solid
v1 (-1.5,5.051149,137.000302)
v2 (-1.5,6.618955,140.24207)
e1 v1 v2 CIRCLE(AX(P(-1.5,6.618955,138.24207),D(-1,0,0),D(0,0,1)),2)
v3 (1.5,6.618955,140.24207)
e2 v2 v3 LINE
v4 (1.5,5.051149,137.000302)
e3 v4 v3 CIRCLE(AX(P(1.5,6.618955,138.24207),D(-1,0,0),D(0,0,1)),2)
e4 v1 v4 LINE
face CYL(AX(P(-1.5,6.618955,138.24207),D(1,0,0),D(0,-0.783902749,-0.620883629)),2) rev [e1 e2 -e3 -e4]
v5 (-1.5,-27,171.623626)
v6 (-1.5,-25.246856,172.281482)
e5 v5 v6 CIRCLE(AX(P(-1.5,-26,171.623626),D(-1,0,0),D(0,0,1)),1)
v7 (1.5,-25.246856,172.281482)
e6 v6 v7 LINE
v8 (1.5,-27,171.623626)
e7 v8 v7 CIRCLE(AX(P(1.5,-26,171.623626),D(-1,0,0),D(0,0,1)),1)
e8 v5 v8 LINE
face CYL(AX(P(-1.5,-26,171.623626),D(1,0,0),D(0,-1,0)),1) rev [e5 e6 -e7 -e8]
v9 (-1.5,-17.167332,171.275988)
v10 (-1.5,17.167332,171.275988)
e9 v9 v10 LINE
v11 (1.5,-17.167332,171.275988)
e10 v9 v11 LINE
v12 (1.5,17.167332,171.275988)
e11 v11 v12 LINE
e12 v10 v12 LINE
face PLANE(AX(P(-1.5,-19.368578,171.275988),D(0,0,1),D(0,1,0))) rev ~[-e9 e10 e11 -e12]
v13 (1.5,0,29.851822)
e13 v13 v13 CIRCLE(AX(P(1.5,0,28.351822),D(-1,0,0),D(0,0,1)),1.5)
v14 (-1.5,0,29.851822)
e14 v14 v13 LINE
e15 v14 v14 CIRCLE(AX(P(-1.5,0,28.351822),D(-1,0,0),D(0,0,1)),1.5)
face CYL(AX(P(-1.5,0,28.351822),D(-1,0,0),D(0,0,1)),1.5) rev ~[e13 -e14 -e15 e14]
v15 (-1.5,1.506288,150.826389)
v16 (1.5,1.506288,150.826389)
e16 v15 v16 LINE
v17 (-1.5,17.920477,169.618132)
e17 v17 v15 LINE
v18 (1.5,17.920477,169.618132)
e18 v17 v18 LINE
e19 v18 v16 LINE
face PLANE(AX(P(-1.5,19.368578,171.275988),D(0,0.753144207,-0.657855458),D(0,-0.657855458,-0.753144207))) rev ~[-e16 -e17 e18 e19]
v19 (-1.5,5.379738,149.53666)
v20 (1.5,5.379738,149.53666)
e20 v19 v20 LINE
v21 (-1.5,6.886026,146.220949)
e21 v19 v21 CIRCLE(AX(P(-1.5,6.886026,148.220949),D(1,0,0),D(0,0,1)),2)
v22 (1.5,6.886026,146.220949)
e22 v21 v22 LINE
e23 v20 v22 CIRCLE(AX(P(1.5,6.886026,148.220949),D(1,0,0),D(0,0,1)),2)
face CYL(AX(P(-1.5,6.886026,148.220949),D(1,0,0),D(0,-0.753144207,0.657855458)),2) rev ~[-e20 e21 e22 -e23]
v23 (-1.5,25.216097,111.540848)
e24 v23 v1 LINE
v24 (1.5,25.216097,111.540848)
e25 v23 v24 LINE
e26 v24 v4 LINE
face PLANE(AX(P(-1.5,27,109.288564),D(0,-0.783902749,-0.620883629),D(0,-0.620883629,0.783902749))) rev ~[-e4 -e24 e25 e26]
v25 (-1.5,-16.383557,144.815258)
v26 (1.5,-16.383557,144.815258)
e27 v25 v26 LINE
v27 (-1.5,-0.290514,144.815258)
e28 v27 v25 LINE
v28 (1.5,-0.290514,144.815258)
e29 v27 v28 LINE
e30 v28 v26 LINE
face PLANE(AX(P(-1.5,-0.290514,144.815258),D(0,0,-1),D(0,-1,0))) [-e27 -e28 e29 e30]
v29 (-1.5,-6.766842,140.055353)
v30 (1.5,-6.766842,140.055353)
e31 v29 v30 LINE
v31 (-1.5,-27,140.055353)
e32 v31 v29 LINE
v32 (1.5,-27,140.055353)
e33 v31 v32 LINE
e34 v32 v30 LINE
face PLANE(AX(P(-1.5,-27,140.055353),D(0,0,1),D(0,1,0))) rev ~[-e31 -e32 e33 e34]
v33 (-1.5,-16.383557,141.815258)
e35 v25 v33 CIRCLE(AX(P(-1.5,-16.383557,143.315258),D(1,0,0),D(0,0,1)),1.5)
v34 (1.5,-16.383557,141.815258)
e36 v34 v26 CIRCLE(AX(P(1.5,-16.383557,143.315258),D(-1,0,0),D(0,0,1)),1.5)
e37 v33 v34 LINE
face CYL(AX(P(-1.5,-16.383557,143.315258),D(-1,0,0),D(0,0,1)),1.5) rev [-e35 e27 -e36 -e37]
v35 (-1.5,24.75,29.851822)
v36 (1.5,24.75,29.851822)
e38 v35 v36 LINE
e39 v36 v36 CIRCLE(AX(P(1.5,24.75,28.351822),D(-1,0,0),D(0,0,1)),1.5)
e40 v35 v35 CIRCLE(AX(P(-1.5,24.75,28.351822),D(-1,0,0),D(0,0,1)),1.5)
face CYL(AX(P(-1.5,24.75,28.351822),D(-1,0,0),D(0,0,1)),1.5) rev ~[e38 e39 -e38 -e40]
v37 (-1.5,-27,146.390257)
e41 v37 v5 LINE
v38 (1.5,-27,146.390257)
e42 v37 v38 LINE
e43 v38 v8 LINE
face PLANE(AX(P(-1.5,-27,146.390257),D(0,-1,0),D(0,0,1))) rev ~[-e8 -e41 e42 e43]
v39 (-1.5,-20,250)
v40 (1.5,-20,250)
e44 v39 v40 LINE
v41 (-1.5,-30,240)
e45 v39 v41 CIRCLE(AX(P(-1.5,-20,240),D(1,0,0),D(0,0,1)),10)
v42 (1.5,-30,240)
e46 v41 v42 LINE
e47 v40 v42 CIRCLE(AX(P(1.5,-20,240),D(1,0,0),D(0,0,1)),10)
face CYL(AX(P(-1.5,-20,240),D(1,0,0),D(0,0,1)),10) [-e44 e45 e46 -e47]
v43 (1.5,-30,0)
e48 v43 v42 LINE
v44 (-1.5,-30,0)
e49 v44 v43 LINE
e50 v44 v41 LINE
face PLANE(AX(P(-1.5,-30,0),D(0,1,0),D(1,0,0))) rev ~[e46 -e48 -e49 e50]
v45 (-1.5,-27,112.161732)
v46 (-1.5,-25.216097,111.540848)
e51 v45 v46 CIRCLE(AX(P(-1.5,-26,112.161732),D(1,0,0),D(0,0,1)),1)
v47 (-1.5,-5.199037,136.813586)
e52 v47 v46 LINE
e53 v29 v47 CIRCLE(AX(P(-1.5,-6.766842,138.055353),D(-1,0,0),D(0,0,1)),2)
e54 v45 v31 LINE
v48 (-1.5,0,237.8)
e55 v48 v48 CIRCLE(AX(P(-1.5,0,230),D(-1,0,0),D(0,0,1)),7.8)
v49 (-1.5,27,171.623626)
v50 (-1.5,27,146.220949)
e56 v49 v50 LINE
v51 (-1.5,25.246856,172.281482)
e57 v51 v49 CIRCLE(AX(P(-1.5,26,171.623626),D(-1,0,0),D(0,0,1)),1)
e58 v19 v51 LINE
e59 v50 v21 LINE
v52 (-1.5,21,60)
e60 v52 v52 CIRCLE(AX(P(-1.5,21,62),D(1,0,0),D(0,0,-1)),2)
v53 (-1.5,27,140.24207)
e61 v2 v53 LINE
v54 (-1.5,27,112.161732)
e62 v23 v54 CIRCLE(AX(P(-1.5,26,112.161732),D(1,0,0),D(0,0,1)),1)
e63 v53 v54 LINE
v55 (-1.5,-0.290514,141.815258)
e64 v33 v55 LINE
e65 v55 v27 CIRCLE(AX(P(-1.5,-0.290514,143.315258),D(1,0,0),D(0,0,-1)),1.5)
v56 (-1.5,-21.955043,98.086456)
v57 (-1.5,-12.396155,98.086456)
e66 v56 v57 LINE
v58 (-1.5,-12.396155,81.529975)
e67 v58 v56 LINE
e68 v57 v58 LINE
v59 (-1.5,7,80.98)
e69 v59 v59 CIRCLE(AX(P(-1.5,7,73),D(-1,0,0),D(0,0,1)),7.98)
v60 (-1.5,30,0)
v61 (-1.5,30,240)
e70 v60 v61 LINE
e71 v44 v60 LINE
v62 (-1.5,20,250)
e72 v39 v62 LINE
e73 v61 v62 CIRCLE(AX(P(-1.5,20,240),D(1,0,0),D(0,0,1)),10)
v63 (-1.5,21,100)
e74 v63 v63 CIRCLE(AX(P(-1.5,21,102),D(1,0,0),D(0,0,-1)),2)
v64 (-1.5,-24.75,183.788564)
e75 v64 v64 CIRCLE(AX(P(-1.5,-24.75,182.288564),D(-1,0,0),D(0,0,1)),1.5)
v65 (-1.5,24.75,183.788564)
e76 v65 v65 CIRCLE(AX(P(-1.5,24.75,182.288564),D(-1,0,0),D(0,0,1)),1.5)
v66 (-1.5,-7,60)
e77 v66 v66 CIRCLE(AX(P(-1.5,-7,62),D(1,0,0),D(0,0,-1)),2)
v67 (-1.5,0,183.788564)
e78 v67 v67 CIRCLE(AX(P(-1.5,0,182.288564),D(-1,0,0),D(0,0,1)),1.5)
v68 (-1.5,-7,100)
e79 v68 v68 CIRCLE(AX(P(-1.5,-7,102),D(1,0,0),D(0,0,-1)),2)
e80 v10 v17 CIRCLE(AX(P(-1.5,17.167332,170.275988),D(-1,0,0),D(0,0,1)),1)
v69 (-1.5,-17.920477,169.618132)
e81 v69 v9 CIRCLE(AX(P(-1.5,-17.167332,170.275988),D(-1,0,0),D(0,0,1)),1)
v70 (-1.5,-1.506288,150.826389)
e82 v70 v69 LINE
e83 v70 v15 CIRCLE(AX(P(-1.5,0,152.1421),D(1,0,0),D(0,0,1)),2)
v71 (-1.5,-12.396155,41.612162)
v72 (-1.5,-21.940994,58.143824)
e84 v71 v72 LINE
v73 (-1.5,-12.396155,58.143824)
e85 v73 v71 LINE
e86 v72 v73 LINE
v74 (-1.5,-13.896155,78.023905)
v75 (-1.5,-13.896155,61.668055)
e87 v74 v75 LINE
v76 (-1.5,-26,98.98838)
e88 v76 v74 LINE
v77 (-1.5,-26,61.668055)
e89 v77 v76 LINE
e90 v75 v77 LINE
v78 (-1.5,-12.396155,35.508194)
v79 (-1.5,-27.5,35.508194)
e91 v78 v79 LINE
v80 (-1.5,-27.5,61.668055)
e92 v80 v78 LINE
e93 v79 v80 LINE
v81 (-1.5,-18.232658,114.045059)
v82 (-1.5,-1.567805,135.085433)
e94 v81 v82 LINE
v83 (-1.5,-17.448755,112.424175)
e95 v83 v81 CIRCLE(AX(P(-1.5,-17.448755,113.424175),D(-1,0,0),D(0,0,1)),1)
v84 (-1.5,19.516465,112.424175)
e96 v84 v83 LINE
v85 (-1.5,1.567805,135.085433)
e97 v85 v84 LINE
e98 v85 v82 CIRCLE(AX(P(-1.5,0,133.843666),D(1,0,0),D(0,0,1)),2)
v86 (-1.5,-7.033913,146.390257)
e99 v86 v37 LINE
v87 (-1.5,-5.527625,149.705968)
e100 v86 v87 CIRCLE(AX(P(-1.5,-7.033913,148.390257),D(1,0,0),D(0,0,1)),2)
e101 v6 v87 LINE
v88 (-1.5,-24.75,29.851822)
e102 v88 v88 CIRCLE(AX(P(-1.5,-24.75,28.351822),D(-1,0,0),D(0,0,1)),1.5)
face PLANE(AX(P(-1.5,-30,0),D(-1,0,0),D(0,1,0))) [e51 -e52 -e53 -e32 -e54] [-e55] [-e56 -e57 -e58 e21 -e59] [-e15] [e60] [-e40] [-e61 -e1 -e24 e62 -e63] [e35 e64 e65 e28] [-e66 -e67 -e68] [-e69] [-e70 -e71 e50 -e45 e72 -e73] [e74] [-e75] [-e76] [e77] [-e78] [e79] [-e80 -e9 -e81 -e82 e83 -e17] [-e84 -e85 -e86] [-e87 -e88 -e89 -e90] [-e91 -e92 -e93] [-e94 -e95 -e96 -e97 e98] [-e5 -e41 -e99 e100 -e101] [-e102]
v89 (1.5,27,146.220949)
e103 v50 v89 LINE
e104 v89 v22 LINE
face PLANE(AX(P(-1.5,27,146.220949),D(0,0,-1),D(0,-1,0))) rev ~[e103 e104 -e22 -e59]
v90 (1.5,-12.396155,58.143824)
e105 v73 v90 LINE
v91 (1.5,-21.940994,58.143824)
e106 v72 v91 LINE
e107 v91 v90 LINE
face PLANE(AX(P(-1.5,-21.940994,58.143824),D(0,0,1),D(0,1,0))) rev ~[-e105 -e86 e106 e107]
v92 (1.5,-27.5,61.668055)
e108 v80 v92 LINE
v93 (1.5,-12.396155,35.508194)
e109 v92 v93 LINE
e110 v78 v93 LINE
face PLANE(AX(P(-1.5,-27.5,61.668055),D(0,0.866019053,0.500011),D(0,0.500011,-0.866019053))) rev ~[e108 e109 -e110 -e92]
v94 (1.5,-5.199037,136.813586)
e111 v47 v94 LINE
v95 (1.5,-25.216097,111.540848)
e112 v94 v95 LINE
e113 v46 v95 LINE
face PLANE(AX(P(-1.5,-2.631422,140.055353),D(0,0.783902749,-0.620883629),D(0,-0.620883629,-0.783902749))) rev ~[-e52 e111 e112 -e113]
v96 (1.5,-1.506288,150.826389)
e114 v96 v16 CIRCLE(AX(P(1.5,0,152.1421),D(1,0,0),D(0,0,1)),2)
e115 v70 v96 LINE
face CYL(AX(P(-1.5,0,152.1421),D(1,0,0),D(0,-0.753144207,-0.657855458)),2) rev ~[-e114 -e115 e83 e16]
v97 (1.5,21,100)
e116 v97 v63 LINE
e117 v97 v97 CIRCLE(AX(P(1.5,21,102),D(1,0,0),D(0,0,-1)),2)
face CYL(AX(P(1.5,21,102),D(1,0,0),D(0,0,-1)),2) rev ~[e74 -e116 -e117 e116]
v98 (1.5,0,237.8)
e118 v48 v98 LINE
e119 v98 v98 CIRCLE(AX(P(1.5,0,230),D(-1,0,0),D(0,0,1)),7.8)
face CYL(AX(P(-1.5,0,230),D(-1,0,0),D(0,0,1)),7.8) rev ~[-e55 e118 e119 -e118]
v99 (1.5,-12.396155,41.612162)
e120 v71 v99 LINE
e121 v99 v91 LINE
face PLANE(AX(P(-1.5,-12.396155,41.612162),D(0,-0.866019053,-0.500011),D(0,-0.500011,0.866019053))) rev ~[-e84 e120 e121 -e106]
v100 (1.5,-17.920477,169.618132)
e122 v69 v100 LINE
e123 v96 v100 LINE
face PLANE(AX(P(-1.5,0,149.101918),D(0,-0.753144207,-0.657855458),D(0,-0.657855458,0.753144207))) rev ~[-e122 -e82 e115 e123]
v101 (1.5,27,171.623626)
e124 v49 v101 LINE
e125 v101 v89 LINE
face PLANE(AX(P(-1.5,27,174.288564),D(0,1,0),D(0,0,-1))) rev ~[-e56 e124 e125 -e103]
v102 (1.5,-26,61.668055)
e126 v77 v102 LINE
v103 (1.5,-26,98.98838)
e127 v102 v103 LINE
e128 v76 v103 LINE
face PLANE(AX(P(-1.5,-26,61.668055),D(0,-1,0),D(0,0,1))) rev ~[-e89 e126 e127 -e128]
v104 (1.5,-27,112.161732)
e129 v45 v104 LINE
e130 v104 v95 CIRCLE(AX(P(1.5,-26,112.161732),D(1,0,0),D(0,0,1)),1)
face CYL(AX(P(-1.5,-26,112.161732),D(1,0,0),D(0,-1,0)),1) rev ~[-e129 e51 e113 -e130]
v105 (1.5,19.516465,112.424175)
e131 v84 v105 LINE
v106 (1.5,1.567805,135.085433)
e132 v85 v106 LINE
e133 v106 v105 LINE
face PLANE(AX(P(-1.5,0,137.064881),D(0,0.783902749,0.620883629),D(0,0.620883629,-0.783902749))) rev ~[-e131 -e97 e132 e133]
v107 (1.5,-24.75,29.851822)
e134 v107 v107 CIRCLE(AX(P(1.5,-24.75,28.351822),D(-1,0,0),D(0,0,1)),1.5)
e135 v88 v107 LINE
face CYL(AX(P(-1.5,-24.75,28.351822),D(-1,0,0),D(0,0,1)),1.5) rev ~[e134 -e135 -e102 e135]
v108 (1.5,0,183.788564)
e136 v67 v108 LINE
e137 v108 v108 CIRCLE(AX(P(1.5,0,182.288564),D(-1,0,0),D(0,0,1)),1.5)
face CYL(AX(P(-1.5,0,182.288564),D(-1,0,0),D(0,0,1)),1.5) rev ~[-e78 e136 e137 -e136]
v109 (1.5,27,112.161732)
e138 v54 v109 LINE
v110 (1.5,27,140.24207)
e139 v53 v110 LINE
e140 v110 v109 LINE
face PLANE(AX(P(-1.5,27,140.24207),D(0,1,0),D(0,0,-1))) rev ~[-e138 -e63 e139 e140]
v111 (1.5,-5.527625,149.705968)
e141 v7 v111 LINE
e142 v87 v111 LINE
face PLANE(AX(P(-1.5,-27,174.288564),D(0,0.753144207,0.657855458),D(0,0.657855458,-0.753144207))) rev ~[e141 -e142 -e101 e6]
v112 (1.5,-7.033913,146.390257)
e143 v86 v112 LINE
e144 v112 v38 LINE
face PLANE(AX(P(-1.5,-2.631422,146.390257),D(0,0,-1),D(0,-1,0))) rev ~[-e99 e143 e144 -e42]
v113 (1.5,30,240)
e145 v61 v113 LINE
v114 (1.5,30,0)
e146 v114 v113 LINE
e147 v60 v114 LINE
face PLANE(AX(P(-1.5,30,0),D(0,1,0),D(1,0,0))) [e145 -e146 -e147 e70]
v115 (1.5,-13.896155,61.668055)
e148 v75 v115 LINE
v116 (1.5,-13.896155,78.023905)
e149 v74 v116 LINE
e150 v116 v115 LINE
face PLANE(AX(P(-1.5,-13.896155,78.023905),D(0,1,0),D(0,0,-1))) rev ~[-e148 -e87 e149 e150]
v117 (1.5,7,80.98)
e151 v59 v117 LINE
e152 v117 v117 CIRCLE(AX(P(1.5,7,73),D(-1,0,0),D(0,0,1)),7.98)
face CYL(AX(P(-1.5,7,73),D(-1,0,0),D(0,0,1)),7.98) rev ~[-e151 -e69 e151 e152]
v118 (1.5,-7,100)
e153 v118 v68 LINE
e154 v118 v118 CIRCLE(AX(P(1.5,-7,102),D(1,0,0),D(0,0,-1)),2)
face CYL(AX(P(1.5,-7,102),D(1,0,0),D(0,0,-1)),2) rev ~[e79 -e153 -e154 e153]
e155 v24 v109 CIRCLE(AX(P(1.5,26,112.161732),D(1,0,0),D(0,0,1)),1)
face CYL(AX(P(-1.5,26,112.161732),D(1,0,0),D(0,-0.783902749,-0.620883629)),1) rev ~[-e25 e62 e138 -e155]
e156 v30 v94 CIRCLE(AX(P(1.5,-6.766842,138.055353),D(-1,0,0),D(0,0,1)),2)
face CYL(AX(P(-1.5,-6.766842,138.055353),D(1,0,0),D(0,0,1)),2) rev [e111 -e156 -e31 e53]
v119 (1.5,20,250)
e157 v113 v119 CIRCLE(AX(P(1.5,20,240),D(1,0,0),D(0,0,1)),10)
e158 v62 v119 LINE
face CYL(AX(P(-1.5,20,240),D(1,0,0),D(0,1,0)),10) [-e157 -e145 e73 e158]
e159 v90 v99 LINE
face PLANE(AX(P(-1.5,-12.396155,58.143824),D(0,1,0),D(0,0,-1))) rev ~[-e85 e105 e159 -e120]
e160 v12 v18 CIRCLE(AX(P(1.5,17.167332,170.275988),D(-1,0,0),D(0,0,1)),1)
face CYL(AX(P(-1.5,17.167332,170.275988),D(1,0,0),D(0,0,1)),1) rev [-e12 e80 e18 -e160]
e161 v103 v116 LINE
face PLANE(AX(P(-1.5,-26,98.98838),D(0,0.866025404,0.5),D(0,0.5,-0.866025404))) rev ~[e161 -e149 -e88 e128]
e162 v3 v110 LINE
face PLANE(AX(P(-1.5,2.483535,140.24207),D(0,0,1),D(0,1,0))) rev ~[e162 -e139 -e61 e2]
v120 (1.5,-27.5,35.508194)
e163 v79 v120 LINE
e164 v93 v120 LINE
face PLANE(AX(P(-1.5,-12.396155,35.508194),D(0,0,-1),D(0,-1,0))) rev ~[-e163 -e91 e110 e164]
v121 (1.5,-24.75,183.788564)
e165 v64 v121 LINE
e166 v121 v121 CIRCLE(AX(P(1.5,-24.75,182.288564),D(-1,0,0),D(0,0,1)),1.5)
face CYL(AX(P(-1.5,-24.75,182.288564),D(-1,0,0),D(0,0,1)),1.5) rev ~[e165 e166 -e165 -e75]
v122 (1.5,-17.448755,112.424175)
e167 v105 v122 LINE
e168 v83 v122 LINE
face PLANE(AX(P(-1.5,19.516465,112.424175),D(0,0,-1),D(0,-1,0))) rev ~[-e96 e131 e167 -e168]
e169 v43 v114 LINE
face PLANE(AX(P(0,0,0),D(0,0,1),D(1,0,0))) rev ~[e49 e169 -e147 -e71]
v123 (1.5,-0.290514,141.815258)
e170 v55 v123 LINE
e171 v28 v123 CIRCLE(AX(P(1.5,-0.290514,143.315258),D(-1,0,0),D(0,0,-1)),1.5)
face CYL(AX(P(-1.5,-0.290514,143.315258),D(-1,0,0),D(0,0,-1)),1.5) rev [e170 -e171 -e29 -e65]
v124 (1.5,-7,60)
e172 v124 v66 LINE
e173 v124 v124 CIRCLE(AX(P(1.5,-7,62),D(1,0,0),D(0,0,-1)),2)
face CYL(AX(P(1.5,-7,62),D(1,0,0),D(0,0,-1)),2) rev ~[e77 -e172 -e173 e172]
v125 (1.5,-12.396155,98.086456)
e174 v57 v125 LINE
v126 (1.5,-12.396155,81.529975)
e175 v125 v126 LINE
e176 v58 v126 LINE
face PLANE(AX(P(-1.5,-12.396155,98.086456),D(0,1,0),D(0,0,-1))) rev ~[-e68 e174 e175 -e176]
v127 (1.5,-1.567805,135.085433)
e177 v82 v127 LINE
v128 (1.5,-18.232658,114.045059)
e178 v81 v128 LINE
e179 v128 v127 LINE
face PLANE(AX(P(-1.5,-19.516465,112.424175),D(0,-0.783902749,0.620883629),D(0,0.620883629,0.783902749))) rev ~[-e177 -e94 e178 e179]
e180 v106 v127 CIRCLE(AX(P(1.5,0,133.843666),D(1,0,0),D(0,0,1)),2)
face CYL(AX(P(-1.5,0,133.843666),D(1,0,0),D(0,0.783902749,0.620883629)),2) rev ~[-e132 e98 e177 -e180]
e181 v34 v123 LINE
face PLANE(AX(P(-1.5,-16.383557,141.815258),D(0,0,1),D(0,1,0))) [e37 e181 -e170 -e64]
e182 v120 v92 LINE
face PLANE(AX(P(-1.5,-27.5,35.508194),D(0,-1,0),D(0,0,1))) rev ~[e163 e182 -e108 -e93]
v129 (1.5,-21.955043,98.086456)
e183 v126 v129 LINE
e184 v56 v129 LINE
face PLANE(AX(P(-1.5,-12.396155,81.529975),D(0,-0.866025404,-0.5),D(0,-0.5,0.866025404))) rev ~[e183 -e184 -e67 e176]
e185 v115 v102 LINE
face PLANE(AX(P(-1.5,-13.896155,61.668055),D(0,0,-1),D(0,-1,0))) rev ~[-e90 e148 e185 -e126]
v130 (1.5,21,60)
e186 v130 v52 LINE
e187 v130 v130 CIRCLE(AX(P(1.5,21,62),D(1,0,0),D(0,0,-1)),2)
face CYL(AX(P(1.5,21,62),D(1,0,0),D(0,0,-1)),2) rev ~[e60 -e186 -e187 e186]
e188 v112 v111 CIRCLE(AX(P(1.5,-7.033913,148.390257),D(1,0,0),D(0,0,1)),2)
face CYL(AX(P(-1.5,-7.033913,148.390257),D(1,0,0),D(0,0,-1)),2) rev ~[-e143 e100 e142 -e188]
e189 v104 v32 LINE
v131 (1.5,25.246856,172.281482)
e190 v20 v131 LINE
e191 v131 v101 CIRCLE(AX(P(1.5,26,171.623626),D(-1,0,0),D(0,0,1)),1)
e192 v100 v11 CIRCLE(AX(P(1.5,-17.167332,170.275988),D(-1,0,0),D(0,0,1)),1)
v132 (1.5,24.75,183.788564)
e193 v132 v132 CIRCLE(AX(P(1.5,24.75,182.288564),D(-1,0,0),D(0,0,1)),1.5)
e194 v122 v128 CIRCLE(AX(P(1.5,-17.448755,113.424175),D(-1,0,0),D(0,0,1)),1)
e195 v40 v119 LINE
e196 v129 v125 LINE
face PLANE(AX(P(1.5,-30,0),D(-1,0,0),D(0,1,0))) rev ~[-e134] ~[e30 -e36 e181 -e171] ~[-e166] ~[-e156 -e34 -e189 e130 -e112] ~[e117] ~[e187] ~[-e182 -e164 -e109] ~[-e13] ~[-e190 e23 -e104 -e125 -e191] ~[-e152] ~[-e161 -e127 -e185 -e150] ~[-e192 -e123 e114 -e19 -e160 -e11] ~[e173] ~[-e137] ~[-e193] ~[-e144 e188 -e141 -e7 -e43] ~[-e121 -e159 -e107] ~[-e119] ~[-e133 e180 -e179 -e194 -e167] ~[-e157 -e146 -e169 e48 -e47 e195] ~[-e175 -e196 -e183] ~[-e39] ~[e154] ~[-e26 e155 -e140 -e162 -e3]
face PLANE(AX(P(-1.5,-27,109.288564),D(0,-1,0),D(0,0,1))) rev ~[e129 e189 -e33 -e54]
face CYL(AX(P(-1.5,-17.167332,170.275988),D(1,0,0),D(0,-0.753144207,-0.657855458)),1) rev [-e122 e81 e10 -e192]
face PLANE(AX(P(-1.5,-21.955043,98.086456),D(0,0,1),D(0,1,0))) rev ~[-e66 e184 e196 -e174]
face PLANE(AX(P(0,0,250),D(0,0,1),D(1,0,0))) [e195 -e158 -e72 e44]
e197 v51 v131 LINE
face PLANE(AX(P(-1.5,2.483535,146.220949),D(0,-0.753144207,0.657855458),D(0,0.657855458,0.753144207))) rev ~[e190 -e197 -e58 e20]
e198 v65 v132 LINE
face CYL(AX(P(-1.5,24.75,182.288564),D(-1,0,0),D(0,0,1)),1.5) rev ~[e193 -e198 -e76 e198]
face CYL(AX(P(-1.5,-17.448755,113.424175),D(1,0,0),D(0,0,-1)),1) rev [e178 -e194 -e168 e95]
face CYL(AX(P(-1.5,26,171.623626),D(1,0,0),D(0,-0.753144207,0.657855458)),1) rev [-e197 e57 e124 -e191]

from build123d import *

# Parameters (mm, degrees)
SKETCH1_W           = 3
SKETCH1_H           = 60
BOSS_EXTRUDE1_DEPTH = 250
FILLET1_R           = 10
FILLET2_R           = 10
SKETCH2_R           = 4.25
CUT_EXTRUDE1_DEPTH  = 4
SKETCH5_R           = 7.8
CUT_EXTRUDE4_DEPTH  = 4
SKETCH13_R          = 7.98
CUT_EXTRUDE10_DEPTH = 4
SKETCH14_R          = 2
CUT_EXTRUDE11_DEPTH = 4
CUT_EXTRUDE14_DEPTH = 10
FILLET3_R           = 1
FILLET4_R           = 2
CUT_EXTRUDE18_DEPTH = 10
CUT_EXTRUDE19_DEPTH = 4
SKETCH20_R          = 1.499999993
SKETCH20_R_2        = 1.5
CUT_EXTRUDE20_DEPTH = 4


with BuildPart() as part:
    # Sketch1 → Boss-Extrude1 (new body)
    with BuildSketch(Plane.XY):
        Rectangle(SKETCH1_W, SKETCH1_H)
    extrude(amount=BOSS_EXTRUDE1_DEPTH)

    # Fillet1
    fillet1_edges = [part.edges().sort_by_distance(p)[0] for p in [
        (0, 30, 250),
    ]]
    fillet(fillet1_edges, radius=FILLET1_R)

    # Fillet2
    fillet2_edges = [part.edges().sort_by_distance(p)[0] for p in [
        (0, -30, 250),
    ]]
    fillet(fillet2_edges, radius=FILLET2_R)

    # Sketch2 → Cut-Extrude1 (cut, through all)
    with BuildSketch(Plane.ZY.offset(1.5)):
        with Locations((230, 0)):
            Circle(SKETCH2_R)
    extrude(amount=-CUT_EXTRUDE1_DEPTH, mode=Mode.SUBTRACT)

    # Sketch5 → Cut-Extrude4 (cut, through all)
    with BuildSketch(Plane.ZY.offset(1.5)):
        with Locations((230, 0)):
            Circle(SKETCH5_R)
    extrude(amount=-CUT_EXTRUDE4_DEPTH, mode=Mode.SUBTRACT)

    # Sketch13 → Cut-Extrude10 (cut, through all)
    with BuildSketch(Plane.ZY.offset(1.5)):
        with Locations((73, 7)):
            Circle(SKETCH13_R)
    extrude(amount=-CUT_EXTRUDE10_DEPTH, mode=Mode.SUBTRACT)

    # Sketch14 → Cut-Extrude11 (cut, through all)
    with BuildSketch(Plane(origin=(1.5, 0, 0), x_dir=(0, 0, -1), z_dir=(1, 0, 0))):
        with Locations((-102, -7)):
            Circle(SKETCH14_R)
        with Locations((-102, 21)):
            Circle(SKETCH14_R)
        with Locations((-62, 21)):
            Circle(SKETCH14_R)
        with Locations((-62, -7)):
            Circle(SKETCH14_R)
    extrude(amount=-CUT_EXTRUDE11_DEPTH, mode=Mode.SUBTRACT)

    # Sketch17 → Cut-Extrude14 (cut)
    with BuildSketch(Plane.ZY.offset(1.5)):
        Polygon((149.1019184, 0), (171.275987572, -19.368578167), (171.275987572, 19.368578167), align=None)
        Polygon((146.3902575, -27), (174.288564399, -27), (146.3902575, -2.631421833), align=None)
        Polygon((109.288564399, -27), (140.055353087, -27), (140.055353087, -2.631421833), align=None)
        Polygon((112.424175394, 19.516465485), (112.424175394, -19.516465485), (137.064881363, 0), align=None)
        Polygon((109.288564399, 27), (140.242069678, 2.483534515), (140.242069678, 27), align=None)
        Polygon((146.220949067, 2.483534515), (174.288564399, 27), (146.220949067, 27), align=None)
    extrude(amount=-CUT_EXTRUDE14_DEPTH, mode=Mode.SUBTRACT)

    # Fillet3
    fillet3_edges = [part.edges().sort_by_distance(p)[0] for p in [
        (0, -27, 174.288564399),
        (0, 27, 174.288564399),
        (0, -19.368578167, 171.275987572),
        (0, 19.368578167, 171.275987572),
        (0, -19.516465485, 112.424175394),
        (0, 27, 109.288564399),
        (0, -27, 109.288564399),
    ]]
    fillet(fillet3_edges, radius=FILLET3_R)

    # Fillet4
    fillet4_edges = [part.edges().sort_by_distance(p)[0] for p in [
        (0, -2.631421833, 146.3902575),
        (0, 2.483534515, 146.220949067),
        (0, 0, 149.1019184),
        (0, 0, 137.064881363),
        (0, 2.483534515, 140.242069678),
        (0, -2.631421833, 140.055353087),
    ]]
    fillet(fillet4_edges, radius=FILLET4_R)

    # Sketch18 → Cut-Extrude18 (cut)
    with BuildSketch(Plane.ZY.offset(1.5)):
        Polygon((61.668054604, -26), (98.988380185, -26), (78.023904982, -13.896154598), (61.668054604, -13.896154598), align=None)
        Polygon((98.086456396, -21.955043464), (98.086456396, -12.396154598), (81.529975217, -12.396154598), align=None)
        Polygon((58.14382401, -12.396154598), (41.612161756, -12.396154598), (58.14382401, -21.940994237), align=None)
        Polygon((35.508194368, -27.5), (61.668054604, -27.5), (35.508194368, -12.396154598), align=None)
    extrude(amount=-CUT_EXTRUDE18_DEPTH, mode=Mode.SUBTRACT)

    # Sketch19 → Cut-Extrude19 (cut, through all)
    with BuildSketch(Plane.ZY.offset(1.5)):
        with BuildLine():
            Line((144.8152575, -0.290513908), (144.8152575, -16.383557477))
            ThreePointArc((144.8152575, -16.383557477), (143.3152575, -17.883557477), (141.8152575, -16.383557477))
            Line((141.8152575, -16.383557477), (141.8152575, -0.290513908))
            ThreePointArc((141.8152575, -0.290513908), (143.3152575, 1.209486092), (144.8152575, -0.290513908))
        make_face()
    extrude(amount=-CUT_EXTRUDE19_DEPTH, mode=Mode.SUBTRACT)

    # Sketch20 → Cut-Extrude20 (cut, through all)
    with BuildSketch(Plane.ZY.offset(1.5)):
        with Locations((28.351822222, -24.750000002)):
            Circle(SKETCH20_R)
        with Locations((28.351822222, -2e-09)):
            Circle(SKETCH20_R)
        with Locations((28.351822222, 24.749999998)):
            Circle(SKETCH20_R)
        with Locations((182.288564399, -24.750000007)):
            Circle(SKETCH20_R_2)
        with Locations((182.288564399, -7e-09)):
            Circle(SKETCH20_R_2)
        with Locations((182.288564399, 24.749999993)):
            Circle(SKETCH20_R_2)
    extrude(amount=-CUT_EXTRUDE20_DEPTH, mode=Mode.SUBTRACT)


solid = part.part
